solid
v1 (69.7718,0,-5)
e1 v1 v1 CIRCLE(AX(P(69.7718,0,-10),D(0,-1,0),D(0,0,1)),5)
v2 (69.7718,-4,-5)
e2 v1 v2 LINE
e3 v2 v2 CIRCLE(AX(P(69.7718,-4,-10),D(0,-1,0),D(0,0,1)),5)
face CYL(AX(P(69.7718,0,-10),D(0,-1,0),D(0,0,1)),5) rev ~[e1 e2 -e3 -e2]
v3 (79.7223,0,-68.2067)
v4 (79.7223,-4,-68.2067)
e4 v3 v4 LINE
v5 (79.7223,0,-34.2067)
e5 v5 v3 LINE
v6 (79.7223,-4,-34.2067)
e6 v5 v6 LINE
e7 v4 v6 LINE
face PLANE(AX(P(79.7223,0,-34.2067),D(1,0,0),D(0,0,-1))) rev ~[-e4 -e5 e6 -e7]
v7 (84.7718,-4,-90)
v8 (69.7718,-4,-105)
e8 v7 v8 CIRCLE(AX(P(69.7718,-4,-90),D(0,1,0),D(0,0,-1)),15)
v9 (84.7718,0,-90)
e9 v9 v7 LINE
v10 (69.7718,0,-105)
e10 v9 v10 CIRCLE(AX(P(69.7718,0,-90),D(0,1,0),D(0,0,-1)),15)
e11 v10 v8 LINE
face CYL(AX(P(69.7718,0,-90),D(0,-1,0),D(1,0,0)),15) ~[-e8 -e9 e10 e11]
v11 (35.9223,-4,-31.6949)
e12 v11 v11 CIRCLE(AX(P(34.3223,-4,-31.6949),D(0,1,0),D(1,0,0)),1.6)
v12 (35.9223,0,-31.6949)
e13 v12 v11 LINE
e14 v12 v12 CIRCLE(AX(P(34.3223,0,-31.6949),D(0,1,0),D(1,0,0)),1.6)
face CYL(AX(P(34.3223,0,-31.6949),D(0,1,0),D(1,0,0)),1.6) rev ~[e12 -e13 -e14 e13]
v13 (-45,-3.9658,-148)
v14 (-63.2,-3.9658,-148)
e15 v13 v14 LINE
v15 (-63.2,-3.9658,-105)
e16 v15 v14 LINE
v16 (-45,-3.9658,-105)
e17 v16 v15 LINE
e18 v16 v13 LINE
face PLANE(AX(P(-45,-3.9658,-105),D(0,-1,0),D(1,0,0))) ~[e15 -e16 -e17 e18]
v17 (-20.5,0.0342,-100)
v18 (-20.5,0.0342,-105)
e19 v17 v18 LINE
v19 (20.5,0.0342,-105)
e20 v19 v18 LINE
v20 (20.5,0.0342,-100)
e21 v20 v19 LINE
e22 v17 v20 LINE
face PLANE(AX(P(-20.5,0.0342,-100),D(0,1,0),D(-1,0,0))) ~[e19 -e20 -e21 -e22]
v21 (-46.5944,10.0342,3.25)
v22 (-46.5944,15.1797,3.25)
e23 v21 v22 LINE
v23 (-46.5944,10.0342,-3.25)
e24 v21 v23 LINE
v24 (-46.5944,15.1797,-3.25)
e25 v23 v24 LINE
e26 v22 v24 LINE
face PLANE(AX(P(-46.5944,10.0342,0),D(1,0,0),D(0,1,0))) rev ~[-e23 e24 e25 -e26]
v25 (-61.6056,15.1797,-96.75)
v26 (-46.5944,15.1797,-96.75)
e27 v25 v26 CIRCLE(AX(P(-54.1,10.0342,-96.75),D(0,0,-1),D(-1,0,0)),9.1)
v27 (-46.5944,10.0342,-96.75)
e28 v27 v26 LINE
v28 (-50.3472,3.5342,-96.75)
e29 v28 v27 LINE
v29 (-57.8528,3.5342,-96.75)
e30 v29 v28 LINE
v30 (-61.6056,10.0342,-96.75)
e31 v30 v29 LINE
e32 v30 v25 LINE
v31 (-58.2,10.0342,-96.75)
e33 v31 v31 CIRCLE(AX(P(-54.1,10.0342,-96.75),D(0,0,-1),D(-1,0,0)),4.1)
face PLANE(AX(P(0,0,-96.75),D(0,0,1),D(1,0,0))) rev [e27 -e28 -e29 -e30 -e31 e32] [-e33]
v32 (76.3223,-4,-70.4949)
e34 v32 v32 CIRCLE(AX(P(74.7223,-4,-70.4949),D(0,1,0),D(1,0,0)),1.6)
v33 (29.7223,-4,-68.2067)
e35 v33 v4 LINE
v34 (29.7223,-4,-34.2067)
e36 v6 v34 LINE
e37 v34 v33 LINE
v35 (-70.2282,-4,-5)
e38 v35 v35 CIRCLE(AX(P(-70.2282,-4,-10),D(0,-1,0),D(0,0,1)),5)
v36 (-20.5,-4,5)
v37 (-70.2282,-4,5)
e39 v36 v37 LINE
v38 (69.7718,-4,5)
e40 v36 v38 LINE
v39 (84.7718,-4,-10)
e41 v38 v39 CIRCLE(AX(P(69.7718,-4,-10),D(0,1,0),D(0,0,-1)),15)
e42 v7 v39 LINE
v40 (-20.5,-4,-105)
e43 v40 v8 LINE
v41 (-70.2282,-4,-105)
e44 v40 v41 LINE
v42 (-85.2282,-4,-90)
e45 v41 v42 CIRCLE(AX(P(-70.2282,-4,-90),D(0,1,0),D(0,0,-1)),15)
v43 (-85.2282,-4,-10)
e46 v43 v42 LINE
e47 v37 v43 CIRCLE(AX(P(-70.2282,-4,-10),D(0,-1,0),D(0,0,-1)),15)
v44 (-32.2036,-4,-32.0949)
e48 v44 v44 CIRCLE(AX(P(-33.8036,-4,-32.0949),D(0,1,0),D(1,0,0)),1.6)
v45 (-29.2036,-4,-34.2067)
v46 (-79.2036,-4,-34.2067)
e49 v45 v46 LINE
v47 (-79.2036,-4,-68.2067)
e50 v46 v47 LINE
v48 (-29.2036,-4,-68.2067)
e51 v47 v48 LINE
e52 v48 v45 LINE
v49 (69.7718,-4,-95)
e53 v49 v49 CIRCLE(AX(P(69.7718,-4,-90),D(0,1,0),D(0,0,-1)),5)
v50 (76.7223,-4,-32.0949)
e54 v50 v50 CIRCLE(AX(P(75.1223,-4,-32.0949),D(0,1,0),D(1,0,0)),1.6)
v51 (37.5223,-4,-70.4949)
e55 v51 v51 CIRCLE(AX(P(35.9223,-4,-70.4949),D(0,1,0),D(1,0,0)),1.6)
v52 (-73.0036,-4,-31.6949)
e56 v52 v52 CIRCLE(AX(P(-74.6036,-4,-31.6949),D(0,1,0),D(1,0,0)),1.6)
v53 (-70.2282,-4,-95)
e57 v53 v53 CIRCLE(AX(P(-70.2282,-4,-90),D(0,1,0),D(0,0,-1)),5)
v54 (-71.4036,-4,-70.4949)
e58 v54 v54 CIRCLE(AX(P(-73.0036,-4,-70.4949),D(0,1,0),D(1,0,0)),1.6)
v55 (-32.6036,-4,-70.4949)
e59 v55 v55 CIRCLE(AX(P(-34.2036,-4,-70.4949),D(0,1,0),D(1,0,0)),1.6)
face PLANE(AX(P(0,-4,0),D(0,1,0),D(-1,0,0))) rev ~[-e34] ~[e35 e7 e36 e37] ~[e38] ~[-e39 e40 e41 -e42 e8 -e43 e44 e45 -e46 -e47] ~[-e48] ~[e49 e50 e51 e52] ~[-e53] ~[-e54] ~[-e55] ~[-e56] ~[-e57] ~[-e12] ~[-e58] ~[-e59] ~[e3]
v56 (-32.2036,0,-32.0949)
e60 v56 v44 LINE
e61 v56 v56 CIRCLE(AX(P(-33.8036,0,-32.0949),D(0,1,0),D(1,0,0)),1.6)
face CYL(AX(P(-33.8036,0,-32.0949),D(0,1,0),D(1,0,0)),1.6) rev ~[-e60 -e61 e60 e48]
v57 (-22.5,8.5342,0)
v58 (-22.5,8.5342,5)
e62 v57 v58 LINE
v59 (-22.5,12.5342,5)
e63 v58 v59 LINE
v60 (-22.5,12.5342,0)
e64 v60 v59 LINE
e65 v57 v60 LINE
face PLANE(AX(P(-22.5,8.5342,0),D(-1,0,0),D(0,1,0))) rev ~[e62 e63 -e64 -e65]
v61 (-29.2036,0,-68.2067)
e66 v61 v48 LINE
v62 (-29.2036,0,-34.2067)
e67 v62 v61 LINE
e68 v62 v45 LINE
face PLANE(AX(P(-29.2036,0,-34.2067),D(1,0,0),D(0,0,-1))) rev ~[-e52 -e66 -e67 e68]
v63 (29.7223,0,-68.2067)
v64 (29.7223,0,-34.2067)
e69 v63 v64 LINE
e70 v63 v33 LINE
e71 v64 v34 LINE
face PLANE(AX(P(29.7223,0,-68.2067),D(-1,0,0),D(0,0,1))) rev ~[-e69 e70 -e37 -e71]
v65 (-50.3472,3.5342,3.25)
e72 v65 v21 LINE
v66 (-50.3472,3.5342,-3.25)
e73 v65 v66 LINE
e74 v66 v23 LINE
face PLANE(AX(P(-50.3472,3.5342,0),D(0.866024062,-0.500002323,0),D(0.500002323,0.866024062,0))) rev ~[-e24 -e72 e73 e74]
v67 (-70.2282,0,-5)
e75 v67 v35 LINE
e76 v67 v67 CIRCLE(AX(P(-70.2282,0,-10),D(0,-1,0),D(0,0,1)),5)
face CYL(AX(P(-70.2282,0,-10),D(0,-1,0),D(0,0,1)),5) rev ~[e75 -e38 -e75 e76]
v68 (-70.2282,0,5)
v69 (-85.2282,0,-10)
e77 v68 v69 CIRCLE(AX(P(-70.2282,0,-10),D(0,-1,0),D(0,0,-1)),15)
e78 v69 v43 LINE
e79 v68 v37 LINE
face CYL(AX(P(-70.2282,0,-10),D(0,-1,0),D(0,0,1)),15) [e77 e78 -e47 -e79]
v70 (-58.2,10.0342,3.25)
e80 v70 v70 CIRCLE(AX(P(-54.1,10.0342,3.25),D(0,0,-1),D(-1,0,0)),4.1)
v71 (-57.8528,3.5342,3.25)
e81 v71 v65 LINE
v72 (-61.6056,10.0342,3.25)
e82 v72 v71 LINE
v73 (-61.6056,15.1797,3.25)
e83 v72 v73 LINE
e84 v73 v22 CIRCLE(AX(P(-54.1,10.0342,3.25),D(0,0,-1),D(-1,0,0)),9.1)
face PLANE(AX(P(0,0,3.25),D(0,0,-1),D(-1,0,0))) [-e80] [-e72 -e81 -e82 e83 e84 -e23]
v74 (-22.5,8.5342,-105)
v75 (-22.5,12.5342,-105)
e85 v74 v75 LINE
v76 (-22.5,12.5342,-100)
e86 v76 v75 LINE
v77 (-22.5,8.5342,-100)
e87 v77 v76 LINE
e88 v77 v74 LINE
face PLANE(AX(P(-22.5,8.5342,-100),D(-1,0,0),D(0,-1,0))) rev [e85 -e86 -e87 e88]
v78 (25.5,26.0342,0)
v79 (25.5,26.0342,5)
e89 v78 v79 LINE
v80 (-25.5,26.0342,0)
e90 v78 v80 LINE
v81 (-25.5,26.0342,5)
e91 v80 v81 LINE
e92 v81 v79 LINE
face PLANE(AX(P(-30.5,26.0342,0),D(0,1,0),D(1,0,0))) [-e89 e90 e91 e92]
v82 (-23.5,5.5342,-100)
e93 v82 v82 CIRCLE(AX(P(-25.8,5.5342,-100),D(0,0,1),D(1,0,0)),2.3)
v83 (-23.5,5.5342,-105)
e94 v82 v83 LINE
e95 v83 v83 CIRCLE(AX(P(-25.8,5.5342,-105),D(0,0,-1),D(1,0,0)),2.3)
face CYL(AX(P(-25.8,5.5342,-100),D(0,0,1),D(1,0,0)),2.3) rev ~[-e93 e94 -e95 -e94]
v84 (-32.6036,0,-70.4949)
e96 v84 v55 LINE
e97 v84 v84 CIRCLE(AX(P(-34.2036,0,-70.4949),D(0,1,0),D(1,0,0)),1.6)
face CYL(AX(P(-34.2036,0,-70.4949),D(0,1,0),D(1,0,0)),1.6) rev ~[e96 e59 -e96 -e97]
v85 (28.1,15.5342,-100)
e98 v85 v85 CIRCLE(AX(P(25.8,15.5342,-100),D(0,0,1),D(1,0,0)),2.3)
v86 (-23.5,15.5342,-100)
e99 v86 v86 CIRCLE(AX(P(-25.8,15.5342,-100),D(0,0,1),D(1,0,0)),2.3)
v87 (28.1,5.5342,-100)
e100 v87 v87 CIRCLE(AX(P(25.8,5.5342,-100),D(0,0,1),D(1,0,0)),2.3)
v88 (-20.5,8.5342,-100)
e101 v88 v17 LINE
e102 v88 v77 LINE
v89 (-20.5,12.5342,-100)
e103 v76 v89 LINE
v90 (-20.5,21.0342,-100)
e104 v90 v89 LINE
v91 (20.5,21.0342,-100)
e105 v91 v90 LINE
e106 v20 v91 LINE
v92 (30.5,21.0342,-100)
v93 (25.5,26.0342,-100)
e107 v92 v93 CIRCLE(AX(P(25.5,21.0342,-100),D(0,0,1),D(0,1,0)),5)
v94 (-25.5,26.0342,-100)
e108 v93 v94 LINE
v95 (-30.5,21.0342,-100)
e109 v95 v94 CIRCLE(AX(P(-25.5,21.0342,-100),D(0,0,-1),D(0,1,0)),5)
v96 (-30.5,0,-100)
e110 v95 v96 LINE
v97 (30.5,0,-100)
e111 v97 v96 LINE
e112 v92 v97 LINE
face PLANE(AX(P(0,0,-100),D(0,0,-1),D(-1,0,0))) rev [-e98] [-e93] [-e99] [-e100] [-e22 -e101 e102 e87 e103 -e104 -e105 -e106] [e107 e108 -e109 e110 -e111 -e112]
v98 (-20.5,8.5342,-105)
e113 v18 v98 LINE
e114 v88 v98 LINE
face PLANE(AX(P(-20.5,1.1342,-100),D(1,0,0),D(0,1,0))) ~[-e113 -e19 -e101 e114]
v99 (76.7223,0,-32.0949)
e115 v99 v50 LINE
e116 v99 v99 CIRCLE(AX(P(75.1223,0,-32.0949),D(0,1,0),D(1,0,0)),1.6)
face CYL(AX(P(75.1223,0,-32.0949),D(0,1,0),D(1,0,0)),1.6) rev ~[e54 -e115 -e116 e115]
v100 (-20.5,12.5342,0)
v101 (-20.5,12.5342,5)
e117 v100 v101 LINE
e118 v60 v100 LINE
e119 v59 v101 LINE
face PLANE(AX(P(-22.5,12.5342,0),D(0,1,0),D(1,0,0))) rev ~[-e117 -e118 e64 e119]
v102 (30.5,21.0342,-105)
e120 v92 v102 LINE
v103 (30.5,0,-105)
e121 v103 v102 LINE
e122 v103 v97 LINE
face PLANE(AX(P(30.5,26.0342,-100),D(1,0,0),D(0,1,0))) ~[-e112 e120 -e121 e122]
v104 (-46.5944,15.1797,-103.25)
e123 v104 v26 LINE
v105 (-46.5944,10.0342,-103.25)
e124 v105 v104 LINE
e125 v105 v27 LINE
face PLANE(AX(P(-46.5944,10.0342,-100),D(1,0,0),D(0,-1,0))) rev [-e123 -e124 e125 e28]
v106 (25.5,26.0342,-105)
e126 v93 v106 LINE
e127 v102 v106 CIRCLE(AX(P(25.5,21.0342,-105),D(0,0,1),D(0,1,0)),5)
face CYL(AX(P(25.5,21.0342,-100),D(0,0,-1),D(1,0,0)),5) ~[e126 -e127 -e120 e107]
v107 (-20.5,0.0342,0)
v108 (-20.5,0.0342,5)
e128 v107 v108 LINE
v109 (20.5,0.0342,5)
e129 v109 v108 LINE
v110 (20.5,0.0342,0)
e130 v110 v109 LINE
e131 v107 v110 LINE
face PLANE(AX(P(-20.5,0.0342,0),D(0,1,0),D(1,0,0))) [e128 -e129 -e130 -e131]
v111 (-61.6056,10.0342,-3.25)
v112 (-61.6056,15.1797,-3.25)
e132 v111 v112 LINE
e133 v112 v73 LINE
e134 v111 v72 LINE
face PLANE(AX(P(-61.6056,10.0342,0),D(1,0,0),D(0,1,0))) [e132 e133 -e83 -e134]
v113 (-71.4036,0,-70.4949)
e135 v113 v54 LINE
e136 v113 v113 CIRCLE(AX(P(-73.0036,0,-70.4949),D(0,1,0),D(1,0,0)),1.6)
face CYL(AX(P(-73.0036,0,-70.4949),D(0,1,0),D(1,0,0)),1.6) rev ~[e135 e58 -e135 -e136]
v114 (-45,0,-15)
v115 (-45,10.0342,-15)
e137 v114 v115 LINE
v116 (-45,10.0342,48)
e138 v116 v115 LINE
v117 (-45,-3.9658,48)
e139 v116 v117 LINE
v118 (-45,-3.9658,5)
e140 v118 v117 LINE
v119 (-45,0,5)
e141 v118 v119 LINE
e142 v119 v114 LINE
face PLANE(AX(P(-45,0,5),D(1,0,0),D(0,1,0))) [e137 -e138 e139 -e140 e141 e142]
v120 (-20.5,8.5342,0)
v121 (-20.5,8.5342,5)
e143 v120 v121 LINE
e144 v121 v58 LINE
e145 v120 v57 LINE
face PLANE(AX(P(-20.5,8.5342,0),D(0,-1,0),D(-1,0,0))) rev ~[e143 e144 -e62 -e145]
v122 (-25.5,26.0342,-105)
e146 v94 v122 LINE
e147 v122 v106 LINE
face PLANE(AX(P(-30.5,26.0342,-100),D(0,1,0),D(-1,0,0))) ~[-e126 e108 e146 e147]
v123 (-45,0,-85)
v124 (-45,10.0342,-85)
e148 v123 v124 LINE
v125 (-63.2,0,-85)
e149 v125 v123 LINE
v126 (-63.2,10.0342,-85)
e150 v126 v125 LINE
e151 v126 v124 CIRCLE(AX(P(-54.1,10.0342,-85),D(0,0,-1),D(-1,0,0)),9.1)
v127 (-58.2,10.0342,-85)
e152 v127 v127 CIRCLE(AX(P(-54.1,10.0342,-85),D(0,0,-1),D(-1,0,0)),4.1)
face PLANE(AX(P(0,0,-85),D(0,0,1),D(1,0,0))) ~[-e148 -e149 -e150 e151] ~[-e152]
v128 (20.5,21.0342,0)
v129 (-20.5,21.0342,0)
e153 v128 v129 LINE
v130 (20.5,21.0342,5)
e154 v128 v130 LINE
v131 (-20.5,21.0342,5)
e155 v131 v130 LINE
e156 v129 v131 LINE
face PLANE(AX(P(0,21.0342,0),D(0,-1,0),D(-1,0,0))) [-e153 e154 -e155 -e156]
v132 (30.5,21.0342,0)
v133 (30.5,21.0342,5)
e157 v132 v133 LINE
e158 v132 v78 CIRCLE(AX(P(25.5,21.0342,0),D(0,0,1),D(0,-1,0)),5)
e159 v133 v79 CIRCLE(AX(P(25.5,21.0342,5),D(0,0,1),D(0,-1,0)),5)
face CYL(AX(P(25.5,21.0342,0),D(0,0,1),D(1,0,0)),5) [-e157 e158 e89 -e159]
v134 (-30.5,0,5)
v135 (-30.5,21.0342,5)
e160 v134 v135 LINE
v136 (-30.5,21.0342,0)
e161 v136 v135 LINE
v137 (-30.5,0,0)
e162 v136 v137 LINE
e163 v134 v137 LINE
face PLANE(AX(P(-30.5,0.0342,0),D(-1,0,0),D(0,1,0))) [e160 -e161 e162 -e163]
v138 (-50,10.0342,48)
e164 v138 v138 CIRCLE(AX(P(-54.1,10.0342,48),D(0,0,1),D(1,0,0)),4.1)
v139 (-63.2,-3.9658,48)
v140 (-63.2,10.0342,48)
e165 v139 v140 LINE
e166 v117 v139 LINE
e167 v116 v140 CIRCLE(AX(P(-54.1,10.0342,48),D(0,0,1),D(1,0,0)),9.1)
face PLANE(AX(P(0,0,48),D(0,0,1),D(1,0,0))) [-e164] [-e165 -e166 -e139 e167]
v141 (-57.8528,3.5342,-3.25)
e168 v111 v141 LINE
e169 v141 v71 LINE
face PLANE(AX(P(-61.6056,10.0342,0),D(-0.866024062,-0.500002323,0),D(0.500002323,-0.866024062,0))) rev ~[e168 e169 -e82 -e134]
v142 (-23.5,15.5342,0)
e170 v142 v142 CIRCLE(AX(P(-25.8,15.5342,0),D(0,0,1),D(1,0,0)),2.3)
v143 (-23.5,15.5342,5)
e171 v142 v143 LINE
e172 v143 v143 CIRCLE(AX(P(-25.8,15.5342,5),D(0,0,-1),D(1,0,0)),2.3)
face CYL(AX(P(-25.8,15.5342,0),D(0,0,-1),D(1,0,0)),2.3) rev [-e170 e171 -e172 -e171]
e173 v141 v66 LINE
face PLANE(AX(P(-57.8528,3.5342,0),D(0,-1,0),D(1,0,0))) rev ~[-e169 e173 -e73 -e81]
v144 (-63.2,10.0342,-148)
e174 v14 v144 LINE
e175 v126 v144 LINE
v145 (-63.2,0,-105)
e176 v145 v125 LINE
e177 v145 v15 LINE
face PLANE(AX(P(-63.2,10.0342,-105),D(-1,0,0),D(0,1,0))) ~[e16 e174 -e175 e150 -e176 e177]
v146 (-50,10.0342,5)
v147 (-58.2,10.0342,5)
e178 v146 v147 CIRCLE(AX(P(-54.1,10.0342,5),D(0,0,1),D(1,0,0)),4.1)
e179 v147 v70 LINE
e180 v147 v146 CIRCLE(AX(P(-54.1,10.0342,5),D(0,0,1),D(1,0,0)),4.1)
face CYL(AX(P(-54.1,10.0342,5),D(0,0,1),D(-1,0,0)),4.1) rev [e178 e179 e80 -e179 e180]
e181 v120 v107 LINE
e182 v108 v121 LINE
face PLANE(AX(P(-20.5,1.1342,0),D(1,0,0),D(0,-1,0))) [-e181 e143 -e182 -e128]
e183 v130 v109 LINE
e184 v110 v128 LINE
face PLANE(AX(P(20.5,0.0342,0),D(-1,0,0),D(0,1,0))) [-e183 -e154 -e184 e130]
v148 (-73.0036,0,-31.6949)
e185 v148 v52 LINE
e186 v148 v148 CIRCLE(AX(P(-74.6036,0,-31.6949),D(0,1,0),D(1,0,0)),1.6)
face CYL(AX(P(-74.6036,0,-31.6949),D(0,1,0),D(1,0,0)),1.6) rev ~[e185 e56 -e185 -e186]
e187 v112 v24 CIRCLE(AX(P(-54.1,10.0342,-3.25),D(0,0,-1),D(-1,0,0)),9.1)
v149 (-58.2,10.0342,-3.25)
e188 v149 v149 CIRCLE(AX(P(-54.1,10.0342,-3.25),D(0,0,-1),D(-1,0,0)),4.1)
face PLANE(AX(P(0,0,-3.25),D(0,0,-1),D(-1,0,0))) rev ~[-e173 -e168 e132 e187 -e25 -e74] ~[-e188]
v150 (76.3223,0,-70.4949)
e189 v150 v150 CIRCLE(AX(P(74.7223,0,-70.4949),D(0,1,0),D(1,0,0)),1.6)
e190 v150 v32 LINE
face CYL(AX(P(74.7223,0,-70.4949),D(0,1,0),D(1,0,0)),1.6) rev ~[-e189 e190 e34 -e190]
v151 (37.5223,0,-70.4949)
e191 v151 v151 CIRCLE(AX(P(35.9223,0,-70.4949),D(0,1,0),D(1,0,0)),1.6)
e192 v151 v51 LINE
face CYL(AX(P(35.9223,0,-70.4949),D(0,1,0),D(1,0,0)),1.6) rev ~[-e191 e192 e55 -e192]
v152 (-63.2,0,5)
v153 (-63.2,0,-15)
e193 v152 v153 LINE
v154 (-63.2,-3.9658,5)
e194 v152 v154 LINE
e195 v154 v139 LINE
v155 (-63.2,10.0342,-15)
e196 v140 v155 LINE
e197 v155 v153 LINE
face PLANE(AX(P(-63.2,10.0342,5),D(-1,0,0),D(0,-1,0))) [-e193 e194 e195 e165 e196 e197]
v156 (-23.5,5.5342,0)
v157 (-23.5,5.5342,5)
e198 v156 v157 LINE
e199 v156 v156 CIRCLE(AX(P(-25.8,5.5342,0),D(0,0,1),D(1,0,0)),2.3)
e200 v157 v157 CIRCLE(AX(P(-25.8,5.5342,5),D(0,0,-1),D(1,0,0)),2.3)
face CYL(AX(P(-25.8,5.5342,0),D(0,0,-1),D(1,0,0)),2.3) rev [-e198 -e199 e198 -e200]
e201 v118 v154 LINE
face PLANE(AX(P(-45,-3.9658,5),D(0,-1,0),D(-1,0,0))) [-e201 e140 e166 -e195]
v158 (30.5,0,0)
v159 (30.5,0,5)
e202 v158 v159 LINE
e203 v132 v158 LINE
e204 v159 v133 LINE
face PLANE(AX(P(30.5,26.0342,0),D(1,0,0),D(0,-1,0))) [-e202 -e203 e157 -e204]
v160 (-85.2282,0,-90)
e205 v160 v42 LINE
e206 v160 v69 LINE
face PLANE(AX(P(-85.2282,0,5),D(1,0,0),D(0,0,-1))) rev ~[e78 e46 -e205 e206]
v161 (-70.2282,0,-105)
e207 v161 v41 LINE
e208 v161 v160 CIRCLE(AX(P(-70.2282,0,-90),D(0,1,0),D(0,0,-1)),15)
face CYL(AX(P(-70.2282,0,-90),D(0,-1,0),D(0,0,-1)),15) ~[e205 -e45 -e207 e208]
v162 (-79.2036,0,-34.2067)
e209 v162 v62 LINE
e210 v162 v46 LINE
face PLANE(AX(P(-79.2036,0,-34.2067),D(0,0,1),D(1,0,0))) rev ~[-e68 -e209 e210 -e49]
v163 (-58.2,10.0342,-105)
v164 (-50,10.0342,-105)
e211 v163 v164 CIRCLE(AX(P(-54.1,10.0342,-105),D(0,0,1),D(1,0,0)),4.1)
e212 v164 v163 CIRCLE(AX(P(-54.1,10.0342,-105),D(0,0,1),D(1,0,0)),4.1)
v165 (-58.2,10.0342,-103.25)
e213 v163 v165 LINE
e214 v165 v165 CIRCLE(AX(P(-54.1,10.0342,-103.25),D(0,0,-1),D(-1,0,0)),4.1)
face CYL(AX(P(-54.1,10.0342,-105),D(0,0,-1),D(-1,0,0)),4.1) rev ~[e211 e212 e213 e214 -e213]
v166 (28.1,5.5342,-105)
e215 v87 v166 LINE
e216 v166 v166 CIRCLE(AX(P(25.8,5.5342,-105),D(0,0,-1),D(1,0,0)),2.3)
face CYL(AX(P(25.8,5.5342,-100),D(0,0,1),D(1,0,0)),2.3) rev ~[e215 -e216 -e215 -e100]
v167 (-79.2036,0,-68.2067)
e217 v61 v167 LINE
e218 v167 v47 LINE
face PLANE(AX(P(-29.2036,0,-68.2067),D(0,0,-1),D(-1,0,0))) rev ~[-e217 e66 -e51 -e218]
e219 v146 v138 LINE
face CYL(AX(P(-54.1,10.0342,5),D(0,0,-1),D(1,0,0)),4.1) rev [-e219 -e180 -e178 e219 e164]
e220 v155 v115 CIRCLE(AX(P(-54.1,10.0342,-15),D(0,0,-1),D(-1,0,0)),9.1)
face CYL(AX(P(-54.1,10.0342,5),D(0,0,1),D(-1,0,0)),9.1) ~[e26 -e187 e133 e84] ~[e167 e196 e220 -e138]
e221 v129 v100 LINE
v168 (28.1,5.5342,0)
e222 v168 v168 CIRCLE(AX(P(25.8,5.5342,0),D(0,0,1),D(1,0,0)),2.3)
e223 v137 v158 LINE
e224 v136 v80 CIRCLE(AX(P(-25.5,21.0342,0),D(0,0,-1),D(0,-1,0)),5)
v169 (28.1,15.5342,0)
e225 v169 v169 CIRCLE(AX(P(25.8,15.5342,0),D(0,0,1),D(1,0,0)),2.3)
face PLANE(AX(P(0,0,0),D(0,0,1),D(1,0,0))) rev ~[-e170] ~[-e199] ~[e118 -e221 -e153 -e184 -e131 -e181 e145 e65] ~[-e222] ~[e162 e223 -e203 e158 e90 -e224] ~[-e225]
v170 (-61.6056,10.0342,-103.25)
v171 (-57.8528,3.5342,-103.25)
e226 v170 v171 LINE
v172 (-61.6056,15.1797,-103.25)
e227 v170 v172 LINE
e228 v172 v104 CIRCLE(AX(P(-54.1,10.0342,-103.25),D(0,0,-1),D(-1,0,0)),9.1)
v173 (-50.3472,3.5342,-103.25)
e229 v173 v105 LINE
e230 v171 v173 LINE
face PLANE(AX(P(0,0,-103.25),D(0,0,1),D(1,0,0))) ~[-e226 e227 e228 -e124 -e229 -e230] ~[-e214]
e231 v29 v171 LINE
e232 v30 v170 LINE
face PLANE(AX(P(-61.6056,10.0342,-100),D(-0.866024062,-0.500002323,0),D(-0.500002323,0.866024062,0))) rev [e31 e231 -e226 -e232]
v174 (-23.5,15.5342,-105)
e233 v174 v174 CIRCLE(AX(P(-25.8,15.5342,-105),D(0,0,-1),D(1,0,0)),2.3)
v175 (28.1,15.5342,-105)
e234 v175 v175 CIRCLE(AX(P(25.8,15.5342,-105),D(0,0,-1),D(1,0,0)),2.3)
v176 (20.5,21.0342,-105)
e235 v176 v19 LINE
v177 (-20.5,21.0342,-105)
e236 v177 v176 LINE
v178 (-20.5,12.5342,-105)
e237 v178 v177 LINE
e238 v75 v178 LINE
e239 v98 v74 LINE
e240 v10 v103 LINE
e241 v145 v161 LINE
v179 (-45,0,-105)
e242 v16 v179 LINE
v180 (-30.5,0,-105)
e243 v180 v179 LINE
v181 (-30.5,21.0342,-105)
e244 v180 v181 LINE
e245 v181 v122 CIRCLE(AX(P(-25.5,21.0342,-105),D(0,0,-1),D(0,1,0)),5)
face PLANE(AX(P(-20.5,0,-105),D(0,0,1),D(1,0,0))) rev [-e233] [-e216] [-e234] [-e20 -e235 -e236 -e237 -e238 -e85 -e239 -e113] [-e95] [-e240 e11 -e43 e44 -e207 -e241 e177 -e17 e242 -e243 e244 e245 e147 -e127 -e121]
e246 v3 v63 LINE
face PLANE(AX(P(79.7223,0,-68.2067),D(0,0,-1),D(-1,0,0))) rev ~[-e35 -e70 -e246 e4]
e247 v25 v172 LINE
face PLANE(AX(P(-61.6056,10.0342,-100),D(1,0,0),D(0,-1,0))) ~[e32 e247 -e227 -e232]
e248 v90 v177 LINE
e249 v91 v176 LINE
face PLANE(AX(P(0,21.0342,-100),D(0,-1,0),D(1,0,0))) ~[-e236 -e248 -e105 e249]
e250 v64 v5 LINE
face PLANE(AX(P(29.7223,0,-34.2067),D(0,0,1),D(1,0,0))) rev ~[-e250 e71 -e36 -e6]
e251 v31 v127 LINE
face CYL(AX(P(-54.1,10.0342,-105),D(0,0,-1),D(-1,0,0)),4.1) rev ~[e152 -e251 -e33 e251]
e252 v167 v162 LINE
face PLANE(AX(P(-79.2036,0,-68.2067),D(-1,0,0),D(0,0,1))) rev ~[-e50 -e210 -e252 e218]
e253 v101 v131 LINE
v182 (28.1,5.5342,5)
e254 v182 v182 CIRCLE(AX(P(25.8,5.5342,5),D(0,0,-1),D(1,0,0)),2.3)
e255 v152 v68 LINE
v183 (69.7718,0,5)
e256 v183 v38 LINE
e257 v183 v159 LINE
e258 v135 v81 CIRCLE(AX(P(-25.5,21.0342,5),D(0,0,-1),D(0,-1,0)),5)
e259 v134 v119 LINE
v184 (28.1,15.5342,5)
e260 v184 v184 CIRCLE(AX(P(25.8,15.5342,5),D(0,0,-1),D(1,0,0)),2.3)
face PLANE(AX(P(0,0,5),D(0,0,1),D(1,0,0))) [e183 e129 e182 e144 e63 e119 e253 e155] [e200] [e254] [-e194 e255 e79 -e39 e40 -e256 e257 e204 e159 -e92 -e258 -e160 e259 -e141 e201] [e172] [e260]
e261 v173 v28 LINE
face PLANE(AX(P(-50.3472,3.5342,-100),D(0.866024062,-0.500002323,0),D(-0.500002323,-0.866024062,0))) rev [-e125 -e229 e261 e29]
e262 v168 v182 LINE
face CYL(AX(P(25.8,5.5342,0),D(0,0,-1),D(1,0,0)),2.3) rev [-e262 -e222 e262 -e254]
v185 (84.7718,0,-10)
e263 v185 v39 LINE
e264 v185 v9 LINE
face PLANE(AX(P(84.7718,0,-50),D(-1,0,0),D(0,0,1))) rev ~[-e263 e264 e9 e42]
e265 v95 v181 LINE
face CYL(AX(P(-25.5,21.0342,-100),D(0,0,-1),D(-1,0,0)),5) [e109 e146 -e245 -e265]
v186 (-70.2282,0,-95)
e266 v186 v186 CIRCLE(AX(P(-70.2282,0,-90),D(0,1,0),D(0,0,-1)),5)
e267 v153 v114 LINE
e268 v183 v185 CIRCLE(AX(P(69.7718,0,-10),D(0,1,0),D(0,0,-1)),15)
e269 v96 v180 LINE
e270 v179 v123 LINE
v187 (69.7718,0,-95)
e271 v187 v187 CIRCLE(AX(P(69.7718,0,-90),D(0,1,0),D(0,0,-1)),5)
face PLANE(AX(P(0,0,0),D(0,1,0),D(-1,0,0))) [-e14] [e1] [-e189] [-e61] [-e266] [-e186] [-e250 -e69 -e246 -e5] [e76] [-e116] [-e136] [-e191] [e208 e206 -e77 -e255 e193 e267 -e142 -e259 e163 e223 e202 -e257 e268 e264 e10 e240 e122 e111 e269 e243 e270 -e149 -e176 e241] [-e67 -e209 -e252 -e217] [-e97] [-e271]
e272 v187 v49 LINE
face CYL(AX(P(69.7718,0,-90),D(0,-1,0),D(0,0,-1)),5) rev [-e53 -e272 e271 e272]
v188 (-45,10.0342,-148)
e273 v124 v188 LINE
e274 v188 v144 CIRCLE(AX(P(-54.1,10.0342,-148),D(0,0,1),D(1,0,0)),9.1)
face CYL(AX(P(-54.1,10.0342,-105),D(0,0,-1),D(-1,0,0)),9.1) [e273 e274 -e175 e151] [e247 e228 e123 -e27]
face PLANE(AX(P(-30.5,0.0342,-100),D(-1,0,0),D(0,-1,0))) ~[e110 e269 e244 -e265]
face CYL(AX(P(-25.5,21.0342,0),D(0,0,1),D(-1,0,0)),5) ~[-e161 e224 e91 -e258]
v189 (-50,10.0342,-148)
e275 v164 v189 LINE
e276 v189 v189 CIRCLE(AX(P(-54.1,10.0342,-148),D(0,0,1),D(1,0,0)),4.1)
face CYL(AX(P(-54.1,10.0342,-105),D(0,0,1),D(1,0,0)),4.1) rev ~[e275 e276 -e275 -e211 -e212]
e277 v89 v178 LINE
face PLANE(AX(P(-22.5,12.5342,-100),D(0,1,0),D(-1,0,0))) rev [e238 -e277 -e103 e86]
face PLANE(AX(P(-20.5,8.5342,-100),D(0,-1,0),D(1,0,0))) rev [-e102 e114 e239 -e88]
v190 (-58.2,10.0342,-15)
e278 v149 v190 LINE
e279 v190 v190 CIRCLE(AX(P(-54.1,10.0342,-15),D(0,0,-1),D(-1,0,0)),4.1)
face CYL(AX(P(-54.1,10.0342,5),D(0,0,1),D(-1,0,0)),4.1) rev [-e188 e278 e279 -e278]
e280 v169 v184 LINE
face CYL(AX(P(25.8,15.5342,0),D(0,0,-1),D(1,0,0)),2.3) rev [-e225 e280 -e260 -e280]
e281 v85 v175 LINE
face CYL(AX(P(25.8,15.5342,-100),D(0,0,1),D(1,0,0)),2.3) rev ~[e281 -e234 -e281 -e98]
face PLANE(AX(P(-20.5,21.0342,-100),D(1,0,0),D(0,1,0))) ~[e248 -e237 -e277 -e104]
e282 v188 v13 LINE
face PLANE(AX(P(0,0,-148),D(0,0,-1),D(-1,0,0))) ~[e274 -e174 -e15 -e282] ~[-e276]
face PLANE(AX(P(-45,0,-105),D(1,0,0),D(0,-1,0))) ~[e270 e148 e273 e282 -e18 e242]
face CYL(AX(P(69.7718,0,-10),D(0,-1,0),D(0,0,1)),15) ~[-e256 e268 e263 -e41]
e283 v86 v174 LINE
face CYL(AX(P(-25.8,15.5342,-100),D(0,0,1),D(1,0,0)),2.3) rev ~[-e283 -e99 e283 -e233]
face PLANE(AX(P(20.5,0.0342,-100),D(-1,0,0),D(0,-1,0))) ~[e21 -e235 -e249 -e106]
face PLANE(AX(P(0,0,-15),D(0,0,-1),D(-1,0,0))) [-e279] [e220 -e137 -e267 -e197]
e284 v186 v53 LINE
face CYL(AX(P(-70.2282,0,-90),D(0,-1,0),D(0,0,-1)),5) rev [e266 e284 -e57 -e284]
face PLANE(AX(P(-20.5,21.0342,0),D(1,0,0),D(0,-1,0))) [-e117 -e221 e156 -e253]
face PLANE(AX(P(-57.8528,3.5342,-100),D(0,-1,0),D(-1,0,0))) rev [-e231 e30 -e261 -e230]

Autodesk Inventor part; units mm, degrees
ref_plane "YZ Plane" through (0, 0, 0) normal (1, 0, 0) x (0, 1, 0)
ref_plane "XZ Plane" through (0, 0, 0) normal (0, 1, 0) x (-1, 0, 0)
sketch "Sketch1" plane through (0, 0, 0) normal (0, 0, 1) x (1, 0, 0)
  line L0 (-20.5, 0.0342) -> (20.5, 0.0342)
  line L1 (20.5, 0.0342) -> (20.5, 21.0342)
  line L2 (20.5, 21.0342) -> (-20.5, 21.0342)
  line L3 (-20.5, 21.0342) -> (-20.5, 0.0342)
  line L4 (0, -10.9658) -> (0, 38.0342) projected
  line L5 (20.5, 0.0342) -> (27.5, 0.0342)
  line L6 (20.5, 18.3469) -> (20.5, 0.0342)
  line L7 (20.5, 1.1342) -> (27.5, 1.1342)
  line L8 (27.5, 1.1342) -> (27.5, 19.9342)
  line L9 (27.5, 19.9342) -> (20.5, 19.9342)
  line L10 (20.5, 19.9342) -> (20.5, 1.1342)
  circle A0 centre (25.8, 15.5342) radius 2.3
  circle A1 centre (25.8, 5.5342) radius 2.3
  line L11 (-20.5, 0.0342) -> (-27.5, 0.0342)
  line L12 (-20.5, 1.1342) -> (-27.5, 1.1342)
  line L13 (-27.5, 19.9342) -> (-20.5, 19.9342)
  circle A2 centre (-25.8, 15.5342) radius 2.3
  circle A3 centre (-25.8, 5.5342) radius 2.3
  line L14 (-30.5, 0.0342) -> (-30.5, 31.0342)
  line L15 (30.5, 31.0342) -> (30.5, 0.0342)
  line L16 (-30.5, 26.0342) -> (30.5, 26.0342)
  line L17 (-27.5, 1.1342) -> (-27.5, 13.985)
  line L18 (-27.5, 17.0834) -> (-27.5, 19.9342)
  line L19 (-20.5, 8.5342) -> (-22.5, 8.5342)
  line L20 (-22.5, 8.5342) -> (-22.5, 12.5342)
  line L21 (-22.5, 12.5342) -> (-20.5, 12.5342)
  line L22 (-20.5, 9.5596) -> (-20.5, 7.5596)
  line L23 (-21.9602, 10.5342) -> (-18.6691, 10.5342)
  line L24 (-30.5, 0.0342) -> (-26.5, 0.0342)
  line L25 (-30.5, 0.0342) -> (30.5, 0.0342)
  line L26 (30.5, 0.0342) -> (30.5, -3.9658)
  line L27 (30.5, -3.9658) -> (-30.5, -3.9658)
  line L28 (-30.5, -3.9658) -> (-30.5, 0.0342)
  point P0 (0, 0)
  point P1 (30.5, 0.0342)
  dimension "d0" = 41
  dimension "d4" = 7
  dimension "d5" = 18.8
  dimension "d6" = 1.1
  dimension "d7" = 21
  dimension "d8" = 4.6
  dimension "d9" = 4.6
  dimension "d10" = 5.3
  dimension "d11" = 10
  dimension "d12" = 4.4
  dimension "d13" = 4.4
  dimension "d14" = 10
  dimension "d15" = 5
  dimension "d16" = 2
  dimension "d17" = 4
  dimension "d19" = 4
extrude "Extrusion1" add sketch "Sketch1" along normal blind 5 contours L11 L24 L14 L16 L4 L2 L3 L13 L18 A2 L17 A3 L12 | L0 L4 L27 L28 L24 L11 | L0 L5 L25 L26 L27 L4 | L12 L17 A3 A2 L18 L13 L3 L21 L20 L19 | L1 L7 L8 A1 A0 L9 L2 L4 L16 L15 L25 L5 | L1 L9 L8 A0 A1 L7
sketch "Sketch2" plane through (0, 0, 5) normal (0, 0, 1) x (1, 0, 0)
  line L0 (20.5, 0.0342) -> (-20.5, 0.0342) projected
  line L1 (20.5, 0.0342) -> (12.9, 0.0342)
  line L2 (12.9, 0.0342) -> (12.9, 10.0342)
  line L3 (12.9, 10.0342) -> (-54.1, 10.0342)
  circle A0 centre (-54.1, 10.0342) radius 4.1
  circle A1 centre (-54.1, 10.0342) radius 9.1
  line L4 (-63.2, 10.0342) -> (-63.2, 0.0342)
  line L5 (-45, 10.0342) -> (-45, 0.0342)
  line L6 (-63.2, 0.0342) -> (-45, 0.0342)
  line L7 (-63.2, 0.0342) -> (-45, 0.0342)
  line L8 (-45, 0.0342) -> (-45, -3.9658)
  line L9 (-45, -3.9658) -> (-63.2, -3.9658)
  line L10 (-63.2, -3.9658) -> (-63.2, 0.0342)
  point P0 (0, 0)
  dimension "d22" = 7.6
  dimension "d23" = 10
  dimension "d24" = 67
  dimension "d25" = 8.2
  dimension "d26" = 5
  dimension "d29" = 4
extrude "Extrusion2" add sketch "Sketch2" along normal blind 43
sketch "Sketch5" plane through (0, 0, 0) normal (0, 1, 0) x (-1, 0, 0)
  line L0 (-20.5, 0) -> (-20.5, 5) projected
  line L1 (20.5, 0) -> (20.5, 5) projected
  line L2 (14.7818, 0) -> (56.1092, 0)
  line L3 (56.1092, 0) -> (56.1092, -28.5)
  line L4 (56.1092, -28.5) -> (14.7818, -28.5)
  line L5 (14.7818, -28.5) -> (14.7818, 0)
  line L6 (17.451, -24.4449) -> (17.451, -8.948) construction
  line L7 (17.451, -8.948) -> (25.6459, -8.948) construction
  line L8 (25.6459, -8.948) -> (25.6459, -24.4449) construction
  line L9 (25.6459, -24.4449) -> (17.451, -24.4449) construction
  line L10 (-84.7718, 5) -> (85.2282, 5)
  line L11 (85.2282, 5) -> (85.2282, -50)
  line L12 (85.2282, -50) -> (-84.7718, -50)
  line L13 (-84.7718, -50) -> (-84.7718, 5)
  point P0 (0, 0)
  point P1 (30.5, 5)
  dimension "d30" = 28.5
  dimension "d49" = 55
  dimension "d60" = 170
sketch "Sketch7" plane through (0, 0, 0) normal (0, 1, 0) x (-1, 0, 0)
  point P0 (0, 0)
sketch "Sketch8" plane through (0, 0, 5) normal (0, 0, -1) x (-1, 0, 0)
  line L0 (63.2, 10.0342) -> (63.2, -3.9658) projected
  arc A0 (63.2, 10.0342) -> (45, 10.0342) centre (54.1, 10.0342) ccw projected
  line L1 (45, -3.9658) -> (45, 10.0342) projected
  line L2 (63.2, -3.9658) -> (45, -3.9658) projected
  circle A1 centre (54.1, 10.0342) radius 4.1 projected
  line L3 (63.2, 10.0342) -> (63.2, -3.9658) projected
  line L4 (63.2, 0) -> (45, 0)
  point P0 (0, 0)
extrude "Extrusion4" add sketch "Sketch8" along normal blind 20 contours L0 L4 L1 A0
extrude "Extrusion5" add sketch "Sketch5" against normal blind 4 contours L10 L11 L12 L13 | L2 L3 L4 L5
ref_plane "Work Plane1" through (0, 0, 0) normal (0, 0, -1) x (-1, 0, 0)
sketch "Sketch9" plane through (0, 0, 0) normal (0, 0, -1) x (-1, 0, 0)
  line L0 (45, 10.0342) -> (45, 0) projected
  line L1 (45, 0) -> (63.2, 0) projected
  line L2 (63.2, 0) -> (63.2, 10.0342) projected
  arc A0 (63.2, 10.0342) -> (45, 10.0342) centre (54.1, 10.0342) ccw projected
  circle A1 centre (54.1, 10.0342) radius 4.1 projected
  line L3 (61.6056, 10.0342) -> (57.8528, 3.5342)
  line L4 (57.8528, 3.5342) -> (50.3472, 3.5342)
  line L5 (50.3472, 3.5342) -> (46.5944, 10.0342)
  line L6 (46.5944, 10.0342) -> (50.3472, 16.5342)
  line L7 (50.3472, 16.5342) -> (57.8528, 16.5342)
  line L8 (57.8528, 16.5342) -> (61.6056, 10.0342)
  line L9 (46.5944, 10.0342) -> (46.5944, 15.1797)
  arc A2 (63.2, 10.0342) -> (45, 10.0342) centre (54.1, 10.0342) ccw projected
  line L10 (61.6056, 10.0342) -> (61.6056, 15.1797)
  point P0 (0, 0)
  dimension "d43" = 13
extrude "Extrusion6" cut sketch "Sketch9" along normal mid plane 6.5 contours A0 L10 L8 L7 L6 L9 | L6 L7 L8 L3 L4 L5
fillet "Fillet2" radius 15 2 edges at (84.7718, -2, 5) (-85.2282, -2, 5)
fillet "Fillet3" radius 5 2 edges at (30.5, 26.0342, 2.5) (-30.5, 26.0342, 2.5)
sketch "Sketch10" plane through (0, 0, 0) normal (0, 1, 0) x (1, 0, 0)
  arc A0 (-85.2282, 10) -> (-70.2282, -5) centre (-70.2282, 10) ccw projected
  line L0 (-63.2, -5) -> (-63.2, 15) projected
  line L1 (-45, 15) -> (-63.2, 15) projected
  line L2 (-45, -5) -> (-45, 15) projected
  line L3 (-45, -5) -> (-30.5, -5) projected
  line L4 (-30.5, 0) -> (-30.5, -5) projected
  line L5 (30.5, 0) -> (-30.5, 0) projected
  line L6 (30.5, -5) -> (30.5, 0) projected
  line L7 (30.5, -5) -> (69.7718, -5) projected
  arc A1 (69.7718, -5) -> (84.7718, 10) centre (69.7718, 10) ccw projected
  line L8 (84.7718, 10) -> (84.7718, 50) projected
  line L9 (84.7718, 50) -> (-85.2282, 50) projected
  line L10 (-85.2282, 50) -> (-85.2282, 10) projected
  line L11 (-70.2282, -5) -> (-63.2, -5) projected
  point P0 (0, 0)
hole "Hole1" at (-70.2282, 0, -10) at (69.7718, 0, -10) direction (0, -1, 0) diameter 10 depth 4
mirror "Mirror4" about plane through (-85.2282, 0, -50) normal (0, 0, -1) of "Extrusion1", "Extrusion2", "Extrusion4", "Extrusion5", "Extrusion6", "Fillet2", "Fillet3", "Hole1"
sketch "Sketch11" plane through (0, 0, 0) normal (0, 1, 0) x (1, 0, 0)
  circle A0 centre (69.7718, 90) radius 5 projected
  circle A1 centre (69.7718, 10) radius 5 projected
  arc A2 (-70.2282, 105) -> (-85.2282, 90) centre (-70.2282, 90) ccw projected
  line L0 (-85.2282, 90) -> (-85.2282, 10) projected
  arc A3 (-85.2282, 10) -> (-70.2282, -5) centre (-70.2282, 10) ccw projected
  line L1 (-63.2, -5) -> (-63.2, 15) projected
  line L2 (-45, 15) -> (-63.2, 15) projected
  line L3 (-45, -5) -> (-45, 15) projected
  line L4 (-45, -5) -> (-30.5, -5) projected
  line L5 (-30.5, 0) -> (-30.5, -5) projected
  line L6 (30.5, 0) -> (-30.5, 0) projected
  line L7 (30.5, -5) -> (30.5, 0) projected
  line L8 (30.5, -5) -> (69.7718, -5) projected
  arc A4 (69.7718, -5) -> (84.7718, 10) centre (69.7718, 10) ccw projected
  line L9 (84.7718, 10) -> (84.7718, 90) projected
  arc A5 (84.7718, 90) -> (69.7718, 105) centre (69.7718, 90) ccw projected
  line L10 (30.5, 105) -> (69.7718, 105) projected
  line L11 (30.5, 105) -> (30.5, 100) projected
  line L12 (30.5, 100) -> (-30.5, 100) projected
  line L13 (-30.5, 100) -> (-30.5, 105) projected
  line L14 (-45, 105) -> (-30.5, 105) projected
  line L15 (-45, 105) -> (-45, 85) projected
  line L16 (-45, 85) -> (-63.2, 85) projected
  line L17 (-63.2, 105) -> (-63.2, 85) projected
  line L18 (20.5, 100) -> (-20.5, 100) projected
  line L19 (20.5, 100) -> (20.5, 105) projected
  line L20 (20.5, 105) -> (-20.5, 105) projected
  line L21 (-20.5, 100) -> (-20.5, 105) projected
  line L22 (-20.5, 100) -> (20.5, 100)
  line L23 (20.5, 100) -> (20.5, 71.5)
  line L24 (20.5, 71.5) -> (-20.5, 71.5)
  line L25 (-20.5, 71.5) -> (-20.5, 100)
  line L26 (74.1747, 78.4479) -> (24.1747, 78.4479)
  line L27 (24.1747, 78.4479) -> (24.1747, 28.4479)
  line L28 (24.1747, 28.4479) -> (74.1747, 28.4479)
  line L29 (74.1747, 28.4479) -> (74.1747, 78.4479)
  line L30 (0, 73.183) -> (0, 43.8378)
  line L31 (-78.2096, 79.1815) -> (-28.2096, 79.1815)
  line L32 (-28.2096, 79.1815) -> (-28.2096, 29.1815)
  line L33 (-28.2096, 29.1815) -> (-78.2096, 29.1815)
  line L34 (-78.2096, 29.1815) -> (-78.2096, 79.1815)
  circle A6 centre (-70.2282, 90) radius 5 projected
  line L35 (-70.2282, 105) -> (-63.2, 105) projected
  line L36 (-70.2282, -5) -> (-63.2, -5) projected
  circle A7 centre (-70.2282, 10) radius 5 projected
  point P0 (0, 0)
  dimension "d57" = 28.5
  dimension "d58" = 50
  dimension "d59" = 50
sketch "Sketch12" plane through (0, 0, 0) normal (0, 1, 0) x (1, 0, 0)
  line L0 (-79.2036, 26.0949) -> (-29.2036, 26.0949)
  line L1 (-29.2036, 26.0949) -> (-29.2036, 76.0949)
  line L2 (-29.2036, 76.0949) -> (-79.2036, 76.0949)
  line L3 (-79.2036, 76.0949) -> (-79.2036, 26.0949)
  circle A0 centre (-74.6036, 31.6949) radius 1.6
  line L4 (-85.2282, 90) -> (-85.2282, 10) projected
  circle A1 centre (-33.8036, 32.0949) radius 1.6
  circle A2 centre (-34.2036, 70.4949) radius 1.6
  line L5 (-79.2036, 34.2067) -> (-29.2036, 34.2067)
  line L6 (-29.2036, 34.2067) -> (-29.2036, 68.2067)
  line L7 (-29.2036, 68.2067) -> (-79.2036, 68.2067)
  line L8 (-79.2036, 68.2067) -> (-79.2036, 34.2067)
  circle A3 centre (-73.0036, 70.4949) radius 1.6
  line L9 (29.7223, 26.0949) -> (79.7223, 26.0949)
  line L10 (79.7223, 26.0949) -> (79.7223, 76.0949)
  line L11 (79.7223, 76.0949) -> (29.7223, 76.0949)
  line L12 (29.7223, 76.0949) -> (29.7223, 26.0949)
  circle A4 centre (34.3223, 31.6949) radius 1.6
  circle A5 centre (75.1223, 32.0949) radius 1.6
  circle A6 centre (74.7223, 70.4949) radius 1.6
  line L13 (29.7223, 34.2067) -> (79.7223, 34.2067)
  line L14 (79.7223, 34.2067) -> (79.7223, 68.2067)
  line L15 (79.7223, 68.2067) -> (29.7223, 68.2067)
  line L16 (29.7223, 68.2067) -> (29.7223, 34.2067)
  circle A7 centre (35.9223, 70.4949) radius 1.6
  point P0 (0, 0)
  dimension "d67" = 50
  dimension "d68" = 50
  dimension "d69" = 3.2
  dimension "d70" = 4.6
  dimension "d71" = 10.6246
  dimension "d72" = 5.6
  dimension "d73" = 3.2
  dimension "d74" = 4.6
  dimension "d75" = 3.2
  dimension "d76" = 5.6
  dimension "d88" = 34
  dimension "d89" = 3.2
  dimension "d90" = 50
  dimension "d91" = 50
  dimension "d92" = 3.2
  dimension "d93" = 4.6
  dimension "d94" = 5.6
  dimension "d95" = 3.2
  dimension "d96" = 4.6
  dimension "d97" = 3.2
  dimension "d98" = 5.6
  dimension "d99" = 34
  dimension "d100" = 3.2
extrude "Extrusion7" cut sketch "Sketch12" against normal up to next contours L3 L7 L1 L5 | A0 | A1 | A2 | A3 | L12 L15 L10 L13 | A4 | A5 | A6 | A7
equation "\"d6\" = -0.5 * d5 + 0.5 * d7"
equation "\"d12\" = d13"
equation "\"d73\" = d69"
equation "\"d74\" = d70"
equation "\"d75\" = d69"
equation "\"d76\" = d72"
equation "\"d89\" = d69"
equation "\"d95\" = d92"
equation "\"d96\" = d93"
equation "\"d97\" = d92"
equation "\"d98\" = d94"
equation "\"d100\" = d92"
properties part number "Base" material "PLA"
